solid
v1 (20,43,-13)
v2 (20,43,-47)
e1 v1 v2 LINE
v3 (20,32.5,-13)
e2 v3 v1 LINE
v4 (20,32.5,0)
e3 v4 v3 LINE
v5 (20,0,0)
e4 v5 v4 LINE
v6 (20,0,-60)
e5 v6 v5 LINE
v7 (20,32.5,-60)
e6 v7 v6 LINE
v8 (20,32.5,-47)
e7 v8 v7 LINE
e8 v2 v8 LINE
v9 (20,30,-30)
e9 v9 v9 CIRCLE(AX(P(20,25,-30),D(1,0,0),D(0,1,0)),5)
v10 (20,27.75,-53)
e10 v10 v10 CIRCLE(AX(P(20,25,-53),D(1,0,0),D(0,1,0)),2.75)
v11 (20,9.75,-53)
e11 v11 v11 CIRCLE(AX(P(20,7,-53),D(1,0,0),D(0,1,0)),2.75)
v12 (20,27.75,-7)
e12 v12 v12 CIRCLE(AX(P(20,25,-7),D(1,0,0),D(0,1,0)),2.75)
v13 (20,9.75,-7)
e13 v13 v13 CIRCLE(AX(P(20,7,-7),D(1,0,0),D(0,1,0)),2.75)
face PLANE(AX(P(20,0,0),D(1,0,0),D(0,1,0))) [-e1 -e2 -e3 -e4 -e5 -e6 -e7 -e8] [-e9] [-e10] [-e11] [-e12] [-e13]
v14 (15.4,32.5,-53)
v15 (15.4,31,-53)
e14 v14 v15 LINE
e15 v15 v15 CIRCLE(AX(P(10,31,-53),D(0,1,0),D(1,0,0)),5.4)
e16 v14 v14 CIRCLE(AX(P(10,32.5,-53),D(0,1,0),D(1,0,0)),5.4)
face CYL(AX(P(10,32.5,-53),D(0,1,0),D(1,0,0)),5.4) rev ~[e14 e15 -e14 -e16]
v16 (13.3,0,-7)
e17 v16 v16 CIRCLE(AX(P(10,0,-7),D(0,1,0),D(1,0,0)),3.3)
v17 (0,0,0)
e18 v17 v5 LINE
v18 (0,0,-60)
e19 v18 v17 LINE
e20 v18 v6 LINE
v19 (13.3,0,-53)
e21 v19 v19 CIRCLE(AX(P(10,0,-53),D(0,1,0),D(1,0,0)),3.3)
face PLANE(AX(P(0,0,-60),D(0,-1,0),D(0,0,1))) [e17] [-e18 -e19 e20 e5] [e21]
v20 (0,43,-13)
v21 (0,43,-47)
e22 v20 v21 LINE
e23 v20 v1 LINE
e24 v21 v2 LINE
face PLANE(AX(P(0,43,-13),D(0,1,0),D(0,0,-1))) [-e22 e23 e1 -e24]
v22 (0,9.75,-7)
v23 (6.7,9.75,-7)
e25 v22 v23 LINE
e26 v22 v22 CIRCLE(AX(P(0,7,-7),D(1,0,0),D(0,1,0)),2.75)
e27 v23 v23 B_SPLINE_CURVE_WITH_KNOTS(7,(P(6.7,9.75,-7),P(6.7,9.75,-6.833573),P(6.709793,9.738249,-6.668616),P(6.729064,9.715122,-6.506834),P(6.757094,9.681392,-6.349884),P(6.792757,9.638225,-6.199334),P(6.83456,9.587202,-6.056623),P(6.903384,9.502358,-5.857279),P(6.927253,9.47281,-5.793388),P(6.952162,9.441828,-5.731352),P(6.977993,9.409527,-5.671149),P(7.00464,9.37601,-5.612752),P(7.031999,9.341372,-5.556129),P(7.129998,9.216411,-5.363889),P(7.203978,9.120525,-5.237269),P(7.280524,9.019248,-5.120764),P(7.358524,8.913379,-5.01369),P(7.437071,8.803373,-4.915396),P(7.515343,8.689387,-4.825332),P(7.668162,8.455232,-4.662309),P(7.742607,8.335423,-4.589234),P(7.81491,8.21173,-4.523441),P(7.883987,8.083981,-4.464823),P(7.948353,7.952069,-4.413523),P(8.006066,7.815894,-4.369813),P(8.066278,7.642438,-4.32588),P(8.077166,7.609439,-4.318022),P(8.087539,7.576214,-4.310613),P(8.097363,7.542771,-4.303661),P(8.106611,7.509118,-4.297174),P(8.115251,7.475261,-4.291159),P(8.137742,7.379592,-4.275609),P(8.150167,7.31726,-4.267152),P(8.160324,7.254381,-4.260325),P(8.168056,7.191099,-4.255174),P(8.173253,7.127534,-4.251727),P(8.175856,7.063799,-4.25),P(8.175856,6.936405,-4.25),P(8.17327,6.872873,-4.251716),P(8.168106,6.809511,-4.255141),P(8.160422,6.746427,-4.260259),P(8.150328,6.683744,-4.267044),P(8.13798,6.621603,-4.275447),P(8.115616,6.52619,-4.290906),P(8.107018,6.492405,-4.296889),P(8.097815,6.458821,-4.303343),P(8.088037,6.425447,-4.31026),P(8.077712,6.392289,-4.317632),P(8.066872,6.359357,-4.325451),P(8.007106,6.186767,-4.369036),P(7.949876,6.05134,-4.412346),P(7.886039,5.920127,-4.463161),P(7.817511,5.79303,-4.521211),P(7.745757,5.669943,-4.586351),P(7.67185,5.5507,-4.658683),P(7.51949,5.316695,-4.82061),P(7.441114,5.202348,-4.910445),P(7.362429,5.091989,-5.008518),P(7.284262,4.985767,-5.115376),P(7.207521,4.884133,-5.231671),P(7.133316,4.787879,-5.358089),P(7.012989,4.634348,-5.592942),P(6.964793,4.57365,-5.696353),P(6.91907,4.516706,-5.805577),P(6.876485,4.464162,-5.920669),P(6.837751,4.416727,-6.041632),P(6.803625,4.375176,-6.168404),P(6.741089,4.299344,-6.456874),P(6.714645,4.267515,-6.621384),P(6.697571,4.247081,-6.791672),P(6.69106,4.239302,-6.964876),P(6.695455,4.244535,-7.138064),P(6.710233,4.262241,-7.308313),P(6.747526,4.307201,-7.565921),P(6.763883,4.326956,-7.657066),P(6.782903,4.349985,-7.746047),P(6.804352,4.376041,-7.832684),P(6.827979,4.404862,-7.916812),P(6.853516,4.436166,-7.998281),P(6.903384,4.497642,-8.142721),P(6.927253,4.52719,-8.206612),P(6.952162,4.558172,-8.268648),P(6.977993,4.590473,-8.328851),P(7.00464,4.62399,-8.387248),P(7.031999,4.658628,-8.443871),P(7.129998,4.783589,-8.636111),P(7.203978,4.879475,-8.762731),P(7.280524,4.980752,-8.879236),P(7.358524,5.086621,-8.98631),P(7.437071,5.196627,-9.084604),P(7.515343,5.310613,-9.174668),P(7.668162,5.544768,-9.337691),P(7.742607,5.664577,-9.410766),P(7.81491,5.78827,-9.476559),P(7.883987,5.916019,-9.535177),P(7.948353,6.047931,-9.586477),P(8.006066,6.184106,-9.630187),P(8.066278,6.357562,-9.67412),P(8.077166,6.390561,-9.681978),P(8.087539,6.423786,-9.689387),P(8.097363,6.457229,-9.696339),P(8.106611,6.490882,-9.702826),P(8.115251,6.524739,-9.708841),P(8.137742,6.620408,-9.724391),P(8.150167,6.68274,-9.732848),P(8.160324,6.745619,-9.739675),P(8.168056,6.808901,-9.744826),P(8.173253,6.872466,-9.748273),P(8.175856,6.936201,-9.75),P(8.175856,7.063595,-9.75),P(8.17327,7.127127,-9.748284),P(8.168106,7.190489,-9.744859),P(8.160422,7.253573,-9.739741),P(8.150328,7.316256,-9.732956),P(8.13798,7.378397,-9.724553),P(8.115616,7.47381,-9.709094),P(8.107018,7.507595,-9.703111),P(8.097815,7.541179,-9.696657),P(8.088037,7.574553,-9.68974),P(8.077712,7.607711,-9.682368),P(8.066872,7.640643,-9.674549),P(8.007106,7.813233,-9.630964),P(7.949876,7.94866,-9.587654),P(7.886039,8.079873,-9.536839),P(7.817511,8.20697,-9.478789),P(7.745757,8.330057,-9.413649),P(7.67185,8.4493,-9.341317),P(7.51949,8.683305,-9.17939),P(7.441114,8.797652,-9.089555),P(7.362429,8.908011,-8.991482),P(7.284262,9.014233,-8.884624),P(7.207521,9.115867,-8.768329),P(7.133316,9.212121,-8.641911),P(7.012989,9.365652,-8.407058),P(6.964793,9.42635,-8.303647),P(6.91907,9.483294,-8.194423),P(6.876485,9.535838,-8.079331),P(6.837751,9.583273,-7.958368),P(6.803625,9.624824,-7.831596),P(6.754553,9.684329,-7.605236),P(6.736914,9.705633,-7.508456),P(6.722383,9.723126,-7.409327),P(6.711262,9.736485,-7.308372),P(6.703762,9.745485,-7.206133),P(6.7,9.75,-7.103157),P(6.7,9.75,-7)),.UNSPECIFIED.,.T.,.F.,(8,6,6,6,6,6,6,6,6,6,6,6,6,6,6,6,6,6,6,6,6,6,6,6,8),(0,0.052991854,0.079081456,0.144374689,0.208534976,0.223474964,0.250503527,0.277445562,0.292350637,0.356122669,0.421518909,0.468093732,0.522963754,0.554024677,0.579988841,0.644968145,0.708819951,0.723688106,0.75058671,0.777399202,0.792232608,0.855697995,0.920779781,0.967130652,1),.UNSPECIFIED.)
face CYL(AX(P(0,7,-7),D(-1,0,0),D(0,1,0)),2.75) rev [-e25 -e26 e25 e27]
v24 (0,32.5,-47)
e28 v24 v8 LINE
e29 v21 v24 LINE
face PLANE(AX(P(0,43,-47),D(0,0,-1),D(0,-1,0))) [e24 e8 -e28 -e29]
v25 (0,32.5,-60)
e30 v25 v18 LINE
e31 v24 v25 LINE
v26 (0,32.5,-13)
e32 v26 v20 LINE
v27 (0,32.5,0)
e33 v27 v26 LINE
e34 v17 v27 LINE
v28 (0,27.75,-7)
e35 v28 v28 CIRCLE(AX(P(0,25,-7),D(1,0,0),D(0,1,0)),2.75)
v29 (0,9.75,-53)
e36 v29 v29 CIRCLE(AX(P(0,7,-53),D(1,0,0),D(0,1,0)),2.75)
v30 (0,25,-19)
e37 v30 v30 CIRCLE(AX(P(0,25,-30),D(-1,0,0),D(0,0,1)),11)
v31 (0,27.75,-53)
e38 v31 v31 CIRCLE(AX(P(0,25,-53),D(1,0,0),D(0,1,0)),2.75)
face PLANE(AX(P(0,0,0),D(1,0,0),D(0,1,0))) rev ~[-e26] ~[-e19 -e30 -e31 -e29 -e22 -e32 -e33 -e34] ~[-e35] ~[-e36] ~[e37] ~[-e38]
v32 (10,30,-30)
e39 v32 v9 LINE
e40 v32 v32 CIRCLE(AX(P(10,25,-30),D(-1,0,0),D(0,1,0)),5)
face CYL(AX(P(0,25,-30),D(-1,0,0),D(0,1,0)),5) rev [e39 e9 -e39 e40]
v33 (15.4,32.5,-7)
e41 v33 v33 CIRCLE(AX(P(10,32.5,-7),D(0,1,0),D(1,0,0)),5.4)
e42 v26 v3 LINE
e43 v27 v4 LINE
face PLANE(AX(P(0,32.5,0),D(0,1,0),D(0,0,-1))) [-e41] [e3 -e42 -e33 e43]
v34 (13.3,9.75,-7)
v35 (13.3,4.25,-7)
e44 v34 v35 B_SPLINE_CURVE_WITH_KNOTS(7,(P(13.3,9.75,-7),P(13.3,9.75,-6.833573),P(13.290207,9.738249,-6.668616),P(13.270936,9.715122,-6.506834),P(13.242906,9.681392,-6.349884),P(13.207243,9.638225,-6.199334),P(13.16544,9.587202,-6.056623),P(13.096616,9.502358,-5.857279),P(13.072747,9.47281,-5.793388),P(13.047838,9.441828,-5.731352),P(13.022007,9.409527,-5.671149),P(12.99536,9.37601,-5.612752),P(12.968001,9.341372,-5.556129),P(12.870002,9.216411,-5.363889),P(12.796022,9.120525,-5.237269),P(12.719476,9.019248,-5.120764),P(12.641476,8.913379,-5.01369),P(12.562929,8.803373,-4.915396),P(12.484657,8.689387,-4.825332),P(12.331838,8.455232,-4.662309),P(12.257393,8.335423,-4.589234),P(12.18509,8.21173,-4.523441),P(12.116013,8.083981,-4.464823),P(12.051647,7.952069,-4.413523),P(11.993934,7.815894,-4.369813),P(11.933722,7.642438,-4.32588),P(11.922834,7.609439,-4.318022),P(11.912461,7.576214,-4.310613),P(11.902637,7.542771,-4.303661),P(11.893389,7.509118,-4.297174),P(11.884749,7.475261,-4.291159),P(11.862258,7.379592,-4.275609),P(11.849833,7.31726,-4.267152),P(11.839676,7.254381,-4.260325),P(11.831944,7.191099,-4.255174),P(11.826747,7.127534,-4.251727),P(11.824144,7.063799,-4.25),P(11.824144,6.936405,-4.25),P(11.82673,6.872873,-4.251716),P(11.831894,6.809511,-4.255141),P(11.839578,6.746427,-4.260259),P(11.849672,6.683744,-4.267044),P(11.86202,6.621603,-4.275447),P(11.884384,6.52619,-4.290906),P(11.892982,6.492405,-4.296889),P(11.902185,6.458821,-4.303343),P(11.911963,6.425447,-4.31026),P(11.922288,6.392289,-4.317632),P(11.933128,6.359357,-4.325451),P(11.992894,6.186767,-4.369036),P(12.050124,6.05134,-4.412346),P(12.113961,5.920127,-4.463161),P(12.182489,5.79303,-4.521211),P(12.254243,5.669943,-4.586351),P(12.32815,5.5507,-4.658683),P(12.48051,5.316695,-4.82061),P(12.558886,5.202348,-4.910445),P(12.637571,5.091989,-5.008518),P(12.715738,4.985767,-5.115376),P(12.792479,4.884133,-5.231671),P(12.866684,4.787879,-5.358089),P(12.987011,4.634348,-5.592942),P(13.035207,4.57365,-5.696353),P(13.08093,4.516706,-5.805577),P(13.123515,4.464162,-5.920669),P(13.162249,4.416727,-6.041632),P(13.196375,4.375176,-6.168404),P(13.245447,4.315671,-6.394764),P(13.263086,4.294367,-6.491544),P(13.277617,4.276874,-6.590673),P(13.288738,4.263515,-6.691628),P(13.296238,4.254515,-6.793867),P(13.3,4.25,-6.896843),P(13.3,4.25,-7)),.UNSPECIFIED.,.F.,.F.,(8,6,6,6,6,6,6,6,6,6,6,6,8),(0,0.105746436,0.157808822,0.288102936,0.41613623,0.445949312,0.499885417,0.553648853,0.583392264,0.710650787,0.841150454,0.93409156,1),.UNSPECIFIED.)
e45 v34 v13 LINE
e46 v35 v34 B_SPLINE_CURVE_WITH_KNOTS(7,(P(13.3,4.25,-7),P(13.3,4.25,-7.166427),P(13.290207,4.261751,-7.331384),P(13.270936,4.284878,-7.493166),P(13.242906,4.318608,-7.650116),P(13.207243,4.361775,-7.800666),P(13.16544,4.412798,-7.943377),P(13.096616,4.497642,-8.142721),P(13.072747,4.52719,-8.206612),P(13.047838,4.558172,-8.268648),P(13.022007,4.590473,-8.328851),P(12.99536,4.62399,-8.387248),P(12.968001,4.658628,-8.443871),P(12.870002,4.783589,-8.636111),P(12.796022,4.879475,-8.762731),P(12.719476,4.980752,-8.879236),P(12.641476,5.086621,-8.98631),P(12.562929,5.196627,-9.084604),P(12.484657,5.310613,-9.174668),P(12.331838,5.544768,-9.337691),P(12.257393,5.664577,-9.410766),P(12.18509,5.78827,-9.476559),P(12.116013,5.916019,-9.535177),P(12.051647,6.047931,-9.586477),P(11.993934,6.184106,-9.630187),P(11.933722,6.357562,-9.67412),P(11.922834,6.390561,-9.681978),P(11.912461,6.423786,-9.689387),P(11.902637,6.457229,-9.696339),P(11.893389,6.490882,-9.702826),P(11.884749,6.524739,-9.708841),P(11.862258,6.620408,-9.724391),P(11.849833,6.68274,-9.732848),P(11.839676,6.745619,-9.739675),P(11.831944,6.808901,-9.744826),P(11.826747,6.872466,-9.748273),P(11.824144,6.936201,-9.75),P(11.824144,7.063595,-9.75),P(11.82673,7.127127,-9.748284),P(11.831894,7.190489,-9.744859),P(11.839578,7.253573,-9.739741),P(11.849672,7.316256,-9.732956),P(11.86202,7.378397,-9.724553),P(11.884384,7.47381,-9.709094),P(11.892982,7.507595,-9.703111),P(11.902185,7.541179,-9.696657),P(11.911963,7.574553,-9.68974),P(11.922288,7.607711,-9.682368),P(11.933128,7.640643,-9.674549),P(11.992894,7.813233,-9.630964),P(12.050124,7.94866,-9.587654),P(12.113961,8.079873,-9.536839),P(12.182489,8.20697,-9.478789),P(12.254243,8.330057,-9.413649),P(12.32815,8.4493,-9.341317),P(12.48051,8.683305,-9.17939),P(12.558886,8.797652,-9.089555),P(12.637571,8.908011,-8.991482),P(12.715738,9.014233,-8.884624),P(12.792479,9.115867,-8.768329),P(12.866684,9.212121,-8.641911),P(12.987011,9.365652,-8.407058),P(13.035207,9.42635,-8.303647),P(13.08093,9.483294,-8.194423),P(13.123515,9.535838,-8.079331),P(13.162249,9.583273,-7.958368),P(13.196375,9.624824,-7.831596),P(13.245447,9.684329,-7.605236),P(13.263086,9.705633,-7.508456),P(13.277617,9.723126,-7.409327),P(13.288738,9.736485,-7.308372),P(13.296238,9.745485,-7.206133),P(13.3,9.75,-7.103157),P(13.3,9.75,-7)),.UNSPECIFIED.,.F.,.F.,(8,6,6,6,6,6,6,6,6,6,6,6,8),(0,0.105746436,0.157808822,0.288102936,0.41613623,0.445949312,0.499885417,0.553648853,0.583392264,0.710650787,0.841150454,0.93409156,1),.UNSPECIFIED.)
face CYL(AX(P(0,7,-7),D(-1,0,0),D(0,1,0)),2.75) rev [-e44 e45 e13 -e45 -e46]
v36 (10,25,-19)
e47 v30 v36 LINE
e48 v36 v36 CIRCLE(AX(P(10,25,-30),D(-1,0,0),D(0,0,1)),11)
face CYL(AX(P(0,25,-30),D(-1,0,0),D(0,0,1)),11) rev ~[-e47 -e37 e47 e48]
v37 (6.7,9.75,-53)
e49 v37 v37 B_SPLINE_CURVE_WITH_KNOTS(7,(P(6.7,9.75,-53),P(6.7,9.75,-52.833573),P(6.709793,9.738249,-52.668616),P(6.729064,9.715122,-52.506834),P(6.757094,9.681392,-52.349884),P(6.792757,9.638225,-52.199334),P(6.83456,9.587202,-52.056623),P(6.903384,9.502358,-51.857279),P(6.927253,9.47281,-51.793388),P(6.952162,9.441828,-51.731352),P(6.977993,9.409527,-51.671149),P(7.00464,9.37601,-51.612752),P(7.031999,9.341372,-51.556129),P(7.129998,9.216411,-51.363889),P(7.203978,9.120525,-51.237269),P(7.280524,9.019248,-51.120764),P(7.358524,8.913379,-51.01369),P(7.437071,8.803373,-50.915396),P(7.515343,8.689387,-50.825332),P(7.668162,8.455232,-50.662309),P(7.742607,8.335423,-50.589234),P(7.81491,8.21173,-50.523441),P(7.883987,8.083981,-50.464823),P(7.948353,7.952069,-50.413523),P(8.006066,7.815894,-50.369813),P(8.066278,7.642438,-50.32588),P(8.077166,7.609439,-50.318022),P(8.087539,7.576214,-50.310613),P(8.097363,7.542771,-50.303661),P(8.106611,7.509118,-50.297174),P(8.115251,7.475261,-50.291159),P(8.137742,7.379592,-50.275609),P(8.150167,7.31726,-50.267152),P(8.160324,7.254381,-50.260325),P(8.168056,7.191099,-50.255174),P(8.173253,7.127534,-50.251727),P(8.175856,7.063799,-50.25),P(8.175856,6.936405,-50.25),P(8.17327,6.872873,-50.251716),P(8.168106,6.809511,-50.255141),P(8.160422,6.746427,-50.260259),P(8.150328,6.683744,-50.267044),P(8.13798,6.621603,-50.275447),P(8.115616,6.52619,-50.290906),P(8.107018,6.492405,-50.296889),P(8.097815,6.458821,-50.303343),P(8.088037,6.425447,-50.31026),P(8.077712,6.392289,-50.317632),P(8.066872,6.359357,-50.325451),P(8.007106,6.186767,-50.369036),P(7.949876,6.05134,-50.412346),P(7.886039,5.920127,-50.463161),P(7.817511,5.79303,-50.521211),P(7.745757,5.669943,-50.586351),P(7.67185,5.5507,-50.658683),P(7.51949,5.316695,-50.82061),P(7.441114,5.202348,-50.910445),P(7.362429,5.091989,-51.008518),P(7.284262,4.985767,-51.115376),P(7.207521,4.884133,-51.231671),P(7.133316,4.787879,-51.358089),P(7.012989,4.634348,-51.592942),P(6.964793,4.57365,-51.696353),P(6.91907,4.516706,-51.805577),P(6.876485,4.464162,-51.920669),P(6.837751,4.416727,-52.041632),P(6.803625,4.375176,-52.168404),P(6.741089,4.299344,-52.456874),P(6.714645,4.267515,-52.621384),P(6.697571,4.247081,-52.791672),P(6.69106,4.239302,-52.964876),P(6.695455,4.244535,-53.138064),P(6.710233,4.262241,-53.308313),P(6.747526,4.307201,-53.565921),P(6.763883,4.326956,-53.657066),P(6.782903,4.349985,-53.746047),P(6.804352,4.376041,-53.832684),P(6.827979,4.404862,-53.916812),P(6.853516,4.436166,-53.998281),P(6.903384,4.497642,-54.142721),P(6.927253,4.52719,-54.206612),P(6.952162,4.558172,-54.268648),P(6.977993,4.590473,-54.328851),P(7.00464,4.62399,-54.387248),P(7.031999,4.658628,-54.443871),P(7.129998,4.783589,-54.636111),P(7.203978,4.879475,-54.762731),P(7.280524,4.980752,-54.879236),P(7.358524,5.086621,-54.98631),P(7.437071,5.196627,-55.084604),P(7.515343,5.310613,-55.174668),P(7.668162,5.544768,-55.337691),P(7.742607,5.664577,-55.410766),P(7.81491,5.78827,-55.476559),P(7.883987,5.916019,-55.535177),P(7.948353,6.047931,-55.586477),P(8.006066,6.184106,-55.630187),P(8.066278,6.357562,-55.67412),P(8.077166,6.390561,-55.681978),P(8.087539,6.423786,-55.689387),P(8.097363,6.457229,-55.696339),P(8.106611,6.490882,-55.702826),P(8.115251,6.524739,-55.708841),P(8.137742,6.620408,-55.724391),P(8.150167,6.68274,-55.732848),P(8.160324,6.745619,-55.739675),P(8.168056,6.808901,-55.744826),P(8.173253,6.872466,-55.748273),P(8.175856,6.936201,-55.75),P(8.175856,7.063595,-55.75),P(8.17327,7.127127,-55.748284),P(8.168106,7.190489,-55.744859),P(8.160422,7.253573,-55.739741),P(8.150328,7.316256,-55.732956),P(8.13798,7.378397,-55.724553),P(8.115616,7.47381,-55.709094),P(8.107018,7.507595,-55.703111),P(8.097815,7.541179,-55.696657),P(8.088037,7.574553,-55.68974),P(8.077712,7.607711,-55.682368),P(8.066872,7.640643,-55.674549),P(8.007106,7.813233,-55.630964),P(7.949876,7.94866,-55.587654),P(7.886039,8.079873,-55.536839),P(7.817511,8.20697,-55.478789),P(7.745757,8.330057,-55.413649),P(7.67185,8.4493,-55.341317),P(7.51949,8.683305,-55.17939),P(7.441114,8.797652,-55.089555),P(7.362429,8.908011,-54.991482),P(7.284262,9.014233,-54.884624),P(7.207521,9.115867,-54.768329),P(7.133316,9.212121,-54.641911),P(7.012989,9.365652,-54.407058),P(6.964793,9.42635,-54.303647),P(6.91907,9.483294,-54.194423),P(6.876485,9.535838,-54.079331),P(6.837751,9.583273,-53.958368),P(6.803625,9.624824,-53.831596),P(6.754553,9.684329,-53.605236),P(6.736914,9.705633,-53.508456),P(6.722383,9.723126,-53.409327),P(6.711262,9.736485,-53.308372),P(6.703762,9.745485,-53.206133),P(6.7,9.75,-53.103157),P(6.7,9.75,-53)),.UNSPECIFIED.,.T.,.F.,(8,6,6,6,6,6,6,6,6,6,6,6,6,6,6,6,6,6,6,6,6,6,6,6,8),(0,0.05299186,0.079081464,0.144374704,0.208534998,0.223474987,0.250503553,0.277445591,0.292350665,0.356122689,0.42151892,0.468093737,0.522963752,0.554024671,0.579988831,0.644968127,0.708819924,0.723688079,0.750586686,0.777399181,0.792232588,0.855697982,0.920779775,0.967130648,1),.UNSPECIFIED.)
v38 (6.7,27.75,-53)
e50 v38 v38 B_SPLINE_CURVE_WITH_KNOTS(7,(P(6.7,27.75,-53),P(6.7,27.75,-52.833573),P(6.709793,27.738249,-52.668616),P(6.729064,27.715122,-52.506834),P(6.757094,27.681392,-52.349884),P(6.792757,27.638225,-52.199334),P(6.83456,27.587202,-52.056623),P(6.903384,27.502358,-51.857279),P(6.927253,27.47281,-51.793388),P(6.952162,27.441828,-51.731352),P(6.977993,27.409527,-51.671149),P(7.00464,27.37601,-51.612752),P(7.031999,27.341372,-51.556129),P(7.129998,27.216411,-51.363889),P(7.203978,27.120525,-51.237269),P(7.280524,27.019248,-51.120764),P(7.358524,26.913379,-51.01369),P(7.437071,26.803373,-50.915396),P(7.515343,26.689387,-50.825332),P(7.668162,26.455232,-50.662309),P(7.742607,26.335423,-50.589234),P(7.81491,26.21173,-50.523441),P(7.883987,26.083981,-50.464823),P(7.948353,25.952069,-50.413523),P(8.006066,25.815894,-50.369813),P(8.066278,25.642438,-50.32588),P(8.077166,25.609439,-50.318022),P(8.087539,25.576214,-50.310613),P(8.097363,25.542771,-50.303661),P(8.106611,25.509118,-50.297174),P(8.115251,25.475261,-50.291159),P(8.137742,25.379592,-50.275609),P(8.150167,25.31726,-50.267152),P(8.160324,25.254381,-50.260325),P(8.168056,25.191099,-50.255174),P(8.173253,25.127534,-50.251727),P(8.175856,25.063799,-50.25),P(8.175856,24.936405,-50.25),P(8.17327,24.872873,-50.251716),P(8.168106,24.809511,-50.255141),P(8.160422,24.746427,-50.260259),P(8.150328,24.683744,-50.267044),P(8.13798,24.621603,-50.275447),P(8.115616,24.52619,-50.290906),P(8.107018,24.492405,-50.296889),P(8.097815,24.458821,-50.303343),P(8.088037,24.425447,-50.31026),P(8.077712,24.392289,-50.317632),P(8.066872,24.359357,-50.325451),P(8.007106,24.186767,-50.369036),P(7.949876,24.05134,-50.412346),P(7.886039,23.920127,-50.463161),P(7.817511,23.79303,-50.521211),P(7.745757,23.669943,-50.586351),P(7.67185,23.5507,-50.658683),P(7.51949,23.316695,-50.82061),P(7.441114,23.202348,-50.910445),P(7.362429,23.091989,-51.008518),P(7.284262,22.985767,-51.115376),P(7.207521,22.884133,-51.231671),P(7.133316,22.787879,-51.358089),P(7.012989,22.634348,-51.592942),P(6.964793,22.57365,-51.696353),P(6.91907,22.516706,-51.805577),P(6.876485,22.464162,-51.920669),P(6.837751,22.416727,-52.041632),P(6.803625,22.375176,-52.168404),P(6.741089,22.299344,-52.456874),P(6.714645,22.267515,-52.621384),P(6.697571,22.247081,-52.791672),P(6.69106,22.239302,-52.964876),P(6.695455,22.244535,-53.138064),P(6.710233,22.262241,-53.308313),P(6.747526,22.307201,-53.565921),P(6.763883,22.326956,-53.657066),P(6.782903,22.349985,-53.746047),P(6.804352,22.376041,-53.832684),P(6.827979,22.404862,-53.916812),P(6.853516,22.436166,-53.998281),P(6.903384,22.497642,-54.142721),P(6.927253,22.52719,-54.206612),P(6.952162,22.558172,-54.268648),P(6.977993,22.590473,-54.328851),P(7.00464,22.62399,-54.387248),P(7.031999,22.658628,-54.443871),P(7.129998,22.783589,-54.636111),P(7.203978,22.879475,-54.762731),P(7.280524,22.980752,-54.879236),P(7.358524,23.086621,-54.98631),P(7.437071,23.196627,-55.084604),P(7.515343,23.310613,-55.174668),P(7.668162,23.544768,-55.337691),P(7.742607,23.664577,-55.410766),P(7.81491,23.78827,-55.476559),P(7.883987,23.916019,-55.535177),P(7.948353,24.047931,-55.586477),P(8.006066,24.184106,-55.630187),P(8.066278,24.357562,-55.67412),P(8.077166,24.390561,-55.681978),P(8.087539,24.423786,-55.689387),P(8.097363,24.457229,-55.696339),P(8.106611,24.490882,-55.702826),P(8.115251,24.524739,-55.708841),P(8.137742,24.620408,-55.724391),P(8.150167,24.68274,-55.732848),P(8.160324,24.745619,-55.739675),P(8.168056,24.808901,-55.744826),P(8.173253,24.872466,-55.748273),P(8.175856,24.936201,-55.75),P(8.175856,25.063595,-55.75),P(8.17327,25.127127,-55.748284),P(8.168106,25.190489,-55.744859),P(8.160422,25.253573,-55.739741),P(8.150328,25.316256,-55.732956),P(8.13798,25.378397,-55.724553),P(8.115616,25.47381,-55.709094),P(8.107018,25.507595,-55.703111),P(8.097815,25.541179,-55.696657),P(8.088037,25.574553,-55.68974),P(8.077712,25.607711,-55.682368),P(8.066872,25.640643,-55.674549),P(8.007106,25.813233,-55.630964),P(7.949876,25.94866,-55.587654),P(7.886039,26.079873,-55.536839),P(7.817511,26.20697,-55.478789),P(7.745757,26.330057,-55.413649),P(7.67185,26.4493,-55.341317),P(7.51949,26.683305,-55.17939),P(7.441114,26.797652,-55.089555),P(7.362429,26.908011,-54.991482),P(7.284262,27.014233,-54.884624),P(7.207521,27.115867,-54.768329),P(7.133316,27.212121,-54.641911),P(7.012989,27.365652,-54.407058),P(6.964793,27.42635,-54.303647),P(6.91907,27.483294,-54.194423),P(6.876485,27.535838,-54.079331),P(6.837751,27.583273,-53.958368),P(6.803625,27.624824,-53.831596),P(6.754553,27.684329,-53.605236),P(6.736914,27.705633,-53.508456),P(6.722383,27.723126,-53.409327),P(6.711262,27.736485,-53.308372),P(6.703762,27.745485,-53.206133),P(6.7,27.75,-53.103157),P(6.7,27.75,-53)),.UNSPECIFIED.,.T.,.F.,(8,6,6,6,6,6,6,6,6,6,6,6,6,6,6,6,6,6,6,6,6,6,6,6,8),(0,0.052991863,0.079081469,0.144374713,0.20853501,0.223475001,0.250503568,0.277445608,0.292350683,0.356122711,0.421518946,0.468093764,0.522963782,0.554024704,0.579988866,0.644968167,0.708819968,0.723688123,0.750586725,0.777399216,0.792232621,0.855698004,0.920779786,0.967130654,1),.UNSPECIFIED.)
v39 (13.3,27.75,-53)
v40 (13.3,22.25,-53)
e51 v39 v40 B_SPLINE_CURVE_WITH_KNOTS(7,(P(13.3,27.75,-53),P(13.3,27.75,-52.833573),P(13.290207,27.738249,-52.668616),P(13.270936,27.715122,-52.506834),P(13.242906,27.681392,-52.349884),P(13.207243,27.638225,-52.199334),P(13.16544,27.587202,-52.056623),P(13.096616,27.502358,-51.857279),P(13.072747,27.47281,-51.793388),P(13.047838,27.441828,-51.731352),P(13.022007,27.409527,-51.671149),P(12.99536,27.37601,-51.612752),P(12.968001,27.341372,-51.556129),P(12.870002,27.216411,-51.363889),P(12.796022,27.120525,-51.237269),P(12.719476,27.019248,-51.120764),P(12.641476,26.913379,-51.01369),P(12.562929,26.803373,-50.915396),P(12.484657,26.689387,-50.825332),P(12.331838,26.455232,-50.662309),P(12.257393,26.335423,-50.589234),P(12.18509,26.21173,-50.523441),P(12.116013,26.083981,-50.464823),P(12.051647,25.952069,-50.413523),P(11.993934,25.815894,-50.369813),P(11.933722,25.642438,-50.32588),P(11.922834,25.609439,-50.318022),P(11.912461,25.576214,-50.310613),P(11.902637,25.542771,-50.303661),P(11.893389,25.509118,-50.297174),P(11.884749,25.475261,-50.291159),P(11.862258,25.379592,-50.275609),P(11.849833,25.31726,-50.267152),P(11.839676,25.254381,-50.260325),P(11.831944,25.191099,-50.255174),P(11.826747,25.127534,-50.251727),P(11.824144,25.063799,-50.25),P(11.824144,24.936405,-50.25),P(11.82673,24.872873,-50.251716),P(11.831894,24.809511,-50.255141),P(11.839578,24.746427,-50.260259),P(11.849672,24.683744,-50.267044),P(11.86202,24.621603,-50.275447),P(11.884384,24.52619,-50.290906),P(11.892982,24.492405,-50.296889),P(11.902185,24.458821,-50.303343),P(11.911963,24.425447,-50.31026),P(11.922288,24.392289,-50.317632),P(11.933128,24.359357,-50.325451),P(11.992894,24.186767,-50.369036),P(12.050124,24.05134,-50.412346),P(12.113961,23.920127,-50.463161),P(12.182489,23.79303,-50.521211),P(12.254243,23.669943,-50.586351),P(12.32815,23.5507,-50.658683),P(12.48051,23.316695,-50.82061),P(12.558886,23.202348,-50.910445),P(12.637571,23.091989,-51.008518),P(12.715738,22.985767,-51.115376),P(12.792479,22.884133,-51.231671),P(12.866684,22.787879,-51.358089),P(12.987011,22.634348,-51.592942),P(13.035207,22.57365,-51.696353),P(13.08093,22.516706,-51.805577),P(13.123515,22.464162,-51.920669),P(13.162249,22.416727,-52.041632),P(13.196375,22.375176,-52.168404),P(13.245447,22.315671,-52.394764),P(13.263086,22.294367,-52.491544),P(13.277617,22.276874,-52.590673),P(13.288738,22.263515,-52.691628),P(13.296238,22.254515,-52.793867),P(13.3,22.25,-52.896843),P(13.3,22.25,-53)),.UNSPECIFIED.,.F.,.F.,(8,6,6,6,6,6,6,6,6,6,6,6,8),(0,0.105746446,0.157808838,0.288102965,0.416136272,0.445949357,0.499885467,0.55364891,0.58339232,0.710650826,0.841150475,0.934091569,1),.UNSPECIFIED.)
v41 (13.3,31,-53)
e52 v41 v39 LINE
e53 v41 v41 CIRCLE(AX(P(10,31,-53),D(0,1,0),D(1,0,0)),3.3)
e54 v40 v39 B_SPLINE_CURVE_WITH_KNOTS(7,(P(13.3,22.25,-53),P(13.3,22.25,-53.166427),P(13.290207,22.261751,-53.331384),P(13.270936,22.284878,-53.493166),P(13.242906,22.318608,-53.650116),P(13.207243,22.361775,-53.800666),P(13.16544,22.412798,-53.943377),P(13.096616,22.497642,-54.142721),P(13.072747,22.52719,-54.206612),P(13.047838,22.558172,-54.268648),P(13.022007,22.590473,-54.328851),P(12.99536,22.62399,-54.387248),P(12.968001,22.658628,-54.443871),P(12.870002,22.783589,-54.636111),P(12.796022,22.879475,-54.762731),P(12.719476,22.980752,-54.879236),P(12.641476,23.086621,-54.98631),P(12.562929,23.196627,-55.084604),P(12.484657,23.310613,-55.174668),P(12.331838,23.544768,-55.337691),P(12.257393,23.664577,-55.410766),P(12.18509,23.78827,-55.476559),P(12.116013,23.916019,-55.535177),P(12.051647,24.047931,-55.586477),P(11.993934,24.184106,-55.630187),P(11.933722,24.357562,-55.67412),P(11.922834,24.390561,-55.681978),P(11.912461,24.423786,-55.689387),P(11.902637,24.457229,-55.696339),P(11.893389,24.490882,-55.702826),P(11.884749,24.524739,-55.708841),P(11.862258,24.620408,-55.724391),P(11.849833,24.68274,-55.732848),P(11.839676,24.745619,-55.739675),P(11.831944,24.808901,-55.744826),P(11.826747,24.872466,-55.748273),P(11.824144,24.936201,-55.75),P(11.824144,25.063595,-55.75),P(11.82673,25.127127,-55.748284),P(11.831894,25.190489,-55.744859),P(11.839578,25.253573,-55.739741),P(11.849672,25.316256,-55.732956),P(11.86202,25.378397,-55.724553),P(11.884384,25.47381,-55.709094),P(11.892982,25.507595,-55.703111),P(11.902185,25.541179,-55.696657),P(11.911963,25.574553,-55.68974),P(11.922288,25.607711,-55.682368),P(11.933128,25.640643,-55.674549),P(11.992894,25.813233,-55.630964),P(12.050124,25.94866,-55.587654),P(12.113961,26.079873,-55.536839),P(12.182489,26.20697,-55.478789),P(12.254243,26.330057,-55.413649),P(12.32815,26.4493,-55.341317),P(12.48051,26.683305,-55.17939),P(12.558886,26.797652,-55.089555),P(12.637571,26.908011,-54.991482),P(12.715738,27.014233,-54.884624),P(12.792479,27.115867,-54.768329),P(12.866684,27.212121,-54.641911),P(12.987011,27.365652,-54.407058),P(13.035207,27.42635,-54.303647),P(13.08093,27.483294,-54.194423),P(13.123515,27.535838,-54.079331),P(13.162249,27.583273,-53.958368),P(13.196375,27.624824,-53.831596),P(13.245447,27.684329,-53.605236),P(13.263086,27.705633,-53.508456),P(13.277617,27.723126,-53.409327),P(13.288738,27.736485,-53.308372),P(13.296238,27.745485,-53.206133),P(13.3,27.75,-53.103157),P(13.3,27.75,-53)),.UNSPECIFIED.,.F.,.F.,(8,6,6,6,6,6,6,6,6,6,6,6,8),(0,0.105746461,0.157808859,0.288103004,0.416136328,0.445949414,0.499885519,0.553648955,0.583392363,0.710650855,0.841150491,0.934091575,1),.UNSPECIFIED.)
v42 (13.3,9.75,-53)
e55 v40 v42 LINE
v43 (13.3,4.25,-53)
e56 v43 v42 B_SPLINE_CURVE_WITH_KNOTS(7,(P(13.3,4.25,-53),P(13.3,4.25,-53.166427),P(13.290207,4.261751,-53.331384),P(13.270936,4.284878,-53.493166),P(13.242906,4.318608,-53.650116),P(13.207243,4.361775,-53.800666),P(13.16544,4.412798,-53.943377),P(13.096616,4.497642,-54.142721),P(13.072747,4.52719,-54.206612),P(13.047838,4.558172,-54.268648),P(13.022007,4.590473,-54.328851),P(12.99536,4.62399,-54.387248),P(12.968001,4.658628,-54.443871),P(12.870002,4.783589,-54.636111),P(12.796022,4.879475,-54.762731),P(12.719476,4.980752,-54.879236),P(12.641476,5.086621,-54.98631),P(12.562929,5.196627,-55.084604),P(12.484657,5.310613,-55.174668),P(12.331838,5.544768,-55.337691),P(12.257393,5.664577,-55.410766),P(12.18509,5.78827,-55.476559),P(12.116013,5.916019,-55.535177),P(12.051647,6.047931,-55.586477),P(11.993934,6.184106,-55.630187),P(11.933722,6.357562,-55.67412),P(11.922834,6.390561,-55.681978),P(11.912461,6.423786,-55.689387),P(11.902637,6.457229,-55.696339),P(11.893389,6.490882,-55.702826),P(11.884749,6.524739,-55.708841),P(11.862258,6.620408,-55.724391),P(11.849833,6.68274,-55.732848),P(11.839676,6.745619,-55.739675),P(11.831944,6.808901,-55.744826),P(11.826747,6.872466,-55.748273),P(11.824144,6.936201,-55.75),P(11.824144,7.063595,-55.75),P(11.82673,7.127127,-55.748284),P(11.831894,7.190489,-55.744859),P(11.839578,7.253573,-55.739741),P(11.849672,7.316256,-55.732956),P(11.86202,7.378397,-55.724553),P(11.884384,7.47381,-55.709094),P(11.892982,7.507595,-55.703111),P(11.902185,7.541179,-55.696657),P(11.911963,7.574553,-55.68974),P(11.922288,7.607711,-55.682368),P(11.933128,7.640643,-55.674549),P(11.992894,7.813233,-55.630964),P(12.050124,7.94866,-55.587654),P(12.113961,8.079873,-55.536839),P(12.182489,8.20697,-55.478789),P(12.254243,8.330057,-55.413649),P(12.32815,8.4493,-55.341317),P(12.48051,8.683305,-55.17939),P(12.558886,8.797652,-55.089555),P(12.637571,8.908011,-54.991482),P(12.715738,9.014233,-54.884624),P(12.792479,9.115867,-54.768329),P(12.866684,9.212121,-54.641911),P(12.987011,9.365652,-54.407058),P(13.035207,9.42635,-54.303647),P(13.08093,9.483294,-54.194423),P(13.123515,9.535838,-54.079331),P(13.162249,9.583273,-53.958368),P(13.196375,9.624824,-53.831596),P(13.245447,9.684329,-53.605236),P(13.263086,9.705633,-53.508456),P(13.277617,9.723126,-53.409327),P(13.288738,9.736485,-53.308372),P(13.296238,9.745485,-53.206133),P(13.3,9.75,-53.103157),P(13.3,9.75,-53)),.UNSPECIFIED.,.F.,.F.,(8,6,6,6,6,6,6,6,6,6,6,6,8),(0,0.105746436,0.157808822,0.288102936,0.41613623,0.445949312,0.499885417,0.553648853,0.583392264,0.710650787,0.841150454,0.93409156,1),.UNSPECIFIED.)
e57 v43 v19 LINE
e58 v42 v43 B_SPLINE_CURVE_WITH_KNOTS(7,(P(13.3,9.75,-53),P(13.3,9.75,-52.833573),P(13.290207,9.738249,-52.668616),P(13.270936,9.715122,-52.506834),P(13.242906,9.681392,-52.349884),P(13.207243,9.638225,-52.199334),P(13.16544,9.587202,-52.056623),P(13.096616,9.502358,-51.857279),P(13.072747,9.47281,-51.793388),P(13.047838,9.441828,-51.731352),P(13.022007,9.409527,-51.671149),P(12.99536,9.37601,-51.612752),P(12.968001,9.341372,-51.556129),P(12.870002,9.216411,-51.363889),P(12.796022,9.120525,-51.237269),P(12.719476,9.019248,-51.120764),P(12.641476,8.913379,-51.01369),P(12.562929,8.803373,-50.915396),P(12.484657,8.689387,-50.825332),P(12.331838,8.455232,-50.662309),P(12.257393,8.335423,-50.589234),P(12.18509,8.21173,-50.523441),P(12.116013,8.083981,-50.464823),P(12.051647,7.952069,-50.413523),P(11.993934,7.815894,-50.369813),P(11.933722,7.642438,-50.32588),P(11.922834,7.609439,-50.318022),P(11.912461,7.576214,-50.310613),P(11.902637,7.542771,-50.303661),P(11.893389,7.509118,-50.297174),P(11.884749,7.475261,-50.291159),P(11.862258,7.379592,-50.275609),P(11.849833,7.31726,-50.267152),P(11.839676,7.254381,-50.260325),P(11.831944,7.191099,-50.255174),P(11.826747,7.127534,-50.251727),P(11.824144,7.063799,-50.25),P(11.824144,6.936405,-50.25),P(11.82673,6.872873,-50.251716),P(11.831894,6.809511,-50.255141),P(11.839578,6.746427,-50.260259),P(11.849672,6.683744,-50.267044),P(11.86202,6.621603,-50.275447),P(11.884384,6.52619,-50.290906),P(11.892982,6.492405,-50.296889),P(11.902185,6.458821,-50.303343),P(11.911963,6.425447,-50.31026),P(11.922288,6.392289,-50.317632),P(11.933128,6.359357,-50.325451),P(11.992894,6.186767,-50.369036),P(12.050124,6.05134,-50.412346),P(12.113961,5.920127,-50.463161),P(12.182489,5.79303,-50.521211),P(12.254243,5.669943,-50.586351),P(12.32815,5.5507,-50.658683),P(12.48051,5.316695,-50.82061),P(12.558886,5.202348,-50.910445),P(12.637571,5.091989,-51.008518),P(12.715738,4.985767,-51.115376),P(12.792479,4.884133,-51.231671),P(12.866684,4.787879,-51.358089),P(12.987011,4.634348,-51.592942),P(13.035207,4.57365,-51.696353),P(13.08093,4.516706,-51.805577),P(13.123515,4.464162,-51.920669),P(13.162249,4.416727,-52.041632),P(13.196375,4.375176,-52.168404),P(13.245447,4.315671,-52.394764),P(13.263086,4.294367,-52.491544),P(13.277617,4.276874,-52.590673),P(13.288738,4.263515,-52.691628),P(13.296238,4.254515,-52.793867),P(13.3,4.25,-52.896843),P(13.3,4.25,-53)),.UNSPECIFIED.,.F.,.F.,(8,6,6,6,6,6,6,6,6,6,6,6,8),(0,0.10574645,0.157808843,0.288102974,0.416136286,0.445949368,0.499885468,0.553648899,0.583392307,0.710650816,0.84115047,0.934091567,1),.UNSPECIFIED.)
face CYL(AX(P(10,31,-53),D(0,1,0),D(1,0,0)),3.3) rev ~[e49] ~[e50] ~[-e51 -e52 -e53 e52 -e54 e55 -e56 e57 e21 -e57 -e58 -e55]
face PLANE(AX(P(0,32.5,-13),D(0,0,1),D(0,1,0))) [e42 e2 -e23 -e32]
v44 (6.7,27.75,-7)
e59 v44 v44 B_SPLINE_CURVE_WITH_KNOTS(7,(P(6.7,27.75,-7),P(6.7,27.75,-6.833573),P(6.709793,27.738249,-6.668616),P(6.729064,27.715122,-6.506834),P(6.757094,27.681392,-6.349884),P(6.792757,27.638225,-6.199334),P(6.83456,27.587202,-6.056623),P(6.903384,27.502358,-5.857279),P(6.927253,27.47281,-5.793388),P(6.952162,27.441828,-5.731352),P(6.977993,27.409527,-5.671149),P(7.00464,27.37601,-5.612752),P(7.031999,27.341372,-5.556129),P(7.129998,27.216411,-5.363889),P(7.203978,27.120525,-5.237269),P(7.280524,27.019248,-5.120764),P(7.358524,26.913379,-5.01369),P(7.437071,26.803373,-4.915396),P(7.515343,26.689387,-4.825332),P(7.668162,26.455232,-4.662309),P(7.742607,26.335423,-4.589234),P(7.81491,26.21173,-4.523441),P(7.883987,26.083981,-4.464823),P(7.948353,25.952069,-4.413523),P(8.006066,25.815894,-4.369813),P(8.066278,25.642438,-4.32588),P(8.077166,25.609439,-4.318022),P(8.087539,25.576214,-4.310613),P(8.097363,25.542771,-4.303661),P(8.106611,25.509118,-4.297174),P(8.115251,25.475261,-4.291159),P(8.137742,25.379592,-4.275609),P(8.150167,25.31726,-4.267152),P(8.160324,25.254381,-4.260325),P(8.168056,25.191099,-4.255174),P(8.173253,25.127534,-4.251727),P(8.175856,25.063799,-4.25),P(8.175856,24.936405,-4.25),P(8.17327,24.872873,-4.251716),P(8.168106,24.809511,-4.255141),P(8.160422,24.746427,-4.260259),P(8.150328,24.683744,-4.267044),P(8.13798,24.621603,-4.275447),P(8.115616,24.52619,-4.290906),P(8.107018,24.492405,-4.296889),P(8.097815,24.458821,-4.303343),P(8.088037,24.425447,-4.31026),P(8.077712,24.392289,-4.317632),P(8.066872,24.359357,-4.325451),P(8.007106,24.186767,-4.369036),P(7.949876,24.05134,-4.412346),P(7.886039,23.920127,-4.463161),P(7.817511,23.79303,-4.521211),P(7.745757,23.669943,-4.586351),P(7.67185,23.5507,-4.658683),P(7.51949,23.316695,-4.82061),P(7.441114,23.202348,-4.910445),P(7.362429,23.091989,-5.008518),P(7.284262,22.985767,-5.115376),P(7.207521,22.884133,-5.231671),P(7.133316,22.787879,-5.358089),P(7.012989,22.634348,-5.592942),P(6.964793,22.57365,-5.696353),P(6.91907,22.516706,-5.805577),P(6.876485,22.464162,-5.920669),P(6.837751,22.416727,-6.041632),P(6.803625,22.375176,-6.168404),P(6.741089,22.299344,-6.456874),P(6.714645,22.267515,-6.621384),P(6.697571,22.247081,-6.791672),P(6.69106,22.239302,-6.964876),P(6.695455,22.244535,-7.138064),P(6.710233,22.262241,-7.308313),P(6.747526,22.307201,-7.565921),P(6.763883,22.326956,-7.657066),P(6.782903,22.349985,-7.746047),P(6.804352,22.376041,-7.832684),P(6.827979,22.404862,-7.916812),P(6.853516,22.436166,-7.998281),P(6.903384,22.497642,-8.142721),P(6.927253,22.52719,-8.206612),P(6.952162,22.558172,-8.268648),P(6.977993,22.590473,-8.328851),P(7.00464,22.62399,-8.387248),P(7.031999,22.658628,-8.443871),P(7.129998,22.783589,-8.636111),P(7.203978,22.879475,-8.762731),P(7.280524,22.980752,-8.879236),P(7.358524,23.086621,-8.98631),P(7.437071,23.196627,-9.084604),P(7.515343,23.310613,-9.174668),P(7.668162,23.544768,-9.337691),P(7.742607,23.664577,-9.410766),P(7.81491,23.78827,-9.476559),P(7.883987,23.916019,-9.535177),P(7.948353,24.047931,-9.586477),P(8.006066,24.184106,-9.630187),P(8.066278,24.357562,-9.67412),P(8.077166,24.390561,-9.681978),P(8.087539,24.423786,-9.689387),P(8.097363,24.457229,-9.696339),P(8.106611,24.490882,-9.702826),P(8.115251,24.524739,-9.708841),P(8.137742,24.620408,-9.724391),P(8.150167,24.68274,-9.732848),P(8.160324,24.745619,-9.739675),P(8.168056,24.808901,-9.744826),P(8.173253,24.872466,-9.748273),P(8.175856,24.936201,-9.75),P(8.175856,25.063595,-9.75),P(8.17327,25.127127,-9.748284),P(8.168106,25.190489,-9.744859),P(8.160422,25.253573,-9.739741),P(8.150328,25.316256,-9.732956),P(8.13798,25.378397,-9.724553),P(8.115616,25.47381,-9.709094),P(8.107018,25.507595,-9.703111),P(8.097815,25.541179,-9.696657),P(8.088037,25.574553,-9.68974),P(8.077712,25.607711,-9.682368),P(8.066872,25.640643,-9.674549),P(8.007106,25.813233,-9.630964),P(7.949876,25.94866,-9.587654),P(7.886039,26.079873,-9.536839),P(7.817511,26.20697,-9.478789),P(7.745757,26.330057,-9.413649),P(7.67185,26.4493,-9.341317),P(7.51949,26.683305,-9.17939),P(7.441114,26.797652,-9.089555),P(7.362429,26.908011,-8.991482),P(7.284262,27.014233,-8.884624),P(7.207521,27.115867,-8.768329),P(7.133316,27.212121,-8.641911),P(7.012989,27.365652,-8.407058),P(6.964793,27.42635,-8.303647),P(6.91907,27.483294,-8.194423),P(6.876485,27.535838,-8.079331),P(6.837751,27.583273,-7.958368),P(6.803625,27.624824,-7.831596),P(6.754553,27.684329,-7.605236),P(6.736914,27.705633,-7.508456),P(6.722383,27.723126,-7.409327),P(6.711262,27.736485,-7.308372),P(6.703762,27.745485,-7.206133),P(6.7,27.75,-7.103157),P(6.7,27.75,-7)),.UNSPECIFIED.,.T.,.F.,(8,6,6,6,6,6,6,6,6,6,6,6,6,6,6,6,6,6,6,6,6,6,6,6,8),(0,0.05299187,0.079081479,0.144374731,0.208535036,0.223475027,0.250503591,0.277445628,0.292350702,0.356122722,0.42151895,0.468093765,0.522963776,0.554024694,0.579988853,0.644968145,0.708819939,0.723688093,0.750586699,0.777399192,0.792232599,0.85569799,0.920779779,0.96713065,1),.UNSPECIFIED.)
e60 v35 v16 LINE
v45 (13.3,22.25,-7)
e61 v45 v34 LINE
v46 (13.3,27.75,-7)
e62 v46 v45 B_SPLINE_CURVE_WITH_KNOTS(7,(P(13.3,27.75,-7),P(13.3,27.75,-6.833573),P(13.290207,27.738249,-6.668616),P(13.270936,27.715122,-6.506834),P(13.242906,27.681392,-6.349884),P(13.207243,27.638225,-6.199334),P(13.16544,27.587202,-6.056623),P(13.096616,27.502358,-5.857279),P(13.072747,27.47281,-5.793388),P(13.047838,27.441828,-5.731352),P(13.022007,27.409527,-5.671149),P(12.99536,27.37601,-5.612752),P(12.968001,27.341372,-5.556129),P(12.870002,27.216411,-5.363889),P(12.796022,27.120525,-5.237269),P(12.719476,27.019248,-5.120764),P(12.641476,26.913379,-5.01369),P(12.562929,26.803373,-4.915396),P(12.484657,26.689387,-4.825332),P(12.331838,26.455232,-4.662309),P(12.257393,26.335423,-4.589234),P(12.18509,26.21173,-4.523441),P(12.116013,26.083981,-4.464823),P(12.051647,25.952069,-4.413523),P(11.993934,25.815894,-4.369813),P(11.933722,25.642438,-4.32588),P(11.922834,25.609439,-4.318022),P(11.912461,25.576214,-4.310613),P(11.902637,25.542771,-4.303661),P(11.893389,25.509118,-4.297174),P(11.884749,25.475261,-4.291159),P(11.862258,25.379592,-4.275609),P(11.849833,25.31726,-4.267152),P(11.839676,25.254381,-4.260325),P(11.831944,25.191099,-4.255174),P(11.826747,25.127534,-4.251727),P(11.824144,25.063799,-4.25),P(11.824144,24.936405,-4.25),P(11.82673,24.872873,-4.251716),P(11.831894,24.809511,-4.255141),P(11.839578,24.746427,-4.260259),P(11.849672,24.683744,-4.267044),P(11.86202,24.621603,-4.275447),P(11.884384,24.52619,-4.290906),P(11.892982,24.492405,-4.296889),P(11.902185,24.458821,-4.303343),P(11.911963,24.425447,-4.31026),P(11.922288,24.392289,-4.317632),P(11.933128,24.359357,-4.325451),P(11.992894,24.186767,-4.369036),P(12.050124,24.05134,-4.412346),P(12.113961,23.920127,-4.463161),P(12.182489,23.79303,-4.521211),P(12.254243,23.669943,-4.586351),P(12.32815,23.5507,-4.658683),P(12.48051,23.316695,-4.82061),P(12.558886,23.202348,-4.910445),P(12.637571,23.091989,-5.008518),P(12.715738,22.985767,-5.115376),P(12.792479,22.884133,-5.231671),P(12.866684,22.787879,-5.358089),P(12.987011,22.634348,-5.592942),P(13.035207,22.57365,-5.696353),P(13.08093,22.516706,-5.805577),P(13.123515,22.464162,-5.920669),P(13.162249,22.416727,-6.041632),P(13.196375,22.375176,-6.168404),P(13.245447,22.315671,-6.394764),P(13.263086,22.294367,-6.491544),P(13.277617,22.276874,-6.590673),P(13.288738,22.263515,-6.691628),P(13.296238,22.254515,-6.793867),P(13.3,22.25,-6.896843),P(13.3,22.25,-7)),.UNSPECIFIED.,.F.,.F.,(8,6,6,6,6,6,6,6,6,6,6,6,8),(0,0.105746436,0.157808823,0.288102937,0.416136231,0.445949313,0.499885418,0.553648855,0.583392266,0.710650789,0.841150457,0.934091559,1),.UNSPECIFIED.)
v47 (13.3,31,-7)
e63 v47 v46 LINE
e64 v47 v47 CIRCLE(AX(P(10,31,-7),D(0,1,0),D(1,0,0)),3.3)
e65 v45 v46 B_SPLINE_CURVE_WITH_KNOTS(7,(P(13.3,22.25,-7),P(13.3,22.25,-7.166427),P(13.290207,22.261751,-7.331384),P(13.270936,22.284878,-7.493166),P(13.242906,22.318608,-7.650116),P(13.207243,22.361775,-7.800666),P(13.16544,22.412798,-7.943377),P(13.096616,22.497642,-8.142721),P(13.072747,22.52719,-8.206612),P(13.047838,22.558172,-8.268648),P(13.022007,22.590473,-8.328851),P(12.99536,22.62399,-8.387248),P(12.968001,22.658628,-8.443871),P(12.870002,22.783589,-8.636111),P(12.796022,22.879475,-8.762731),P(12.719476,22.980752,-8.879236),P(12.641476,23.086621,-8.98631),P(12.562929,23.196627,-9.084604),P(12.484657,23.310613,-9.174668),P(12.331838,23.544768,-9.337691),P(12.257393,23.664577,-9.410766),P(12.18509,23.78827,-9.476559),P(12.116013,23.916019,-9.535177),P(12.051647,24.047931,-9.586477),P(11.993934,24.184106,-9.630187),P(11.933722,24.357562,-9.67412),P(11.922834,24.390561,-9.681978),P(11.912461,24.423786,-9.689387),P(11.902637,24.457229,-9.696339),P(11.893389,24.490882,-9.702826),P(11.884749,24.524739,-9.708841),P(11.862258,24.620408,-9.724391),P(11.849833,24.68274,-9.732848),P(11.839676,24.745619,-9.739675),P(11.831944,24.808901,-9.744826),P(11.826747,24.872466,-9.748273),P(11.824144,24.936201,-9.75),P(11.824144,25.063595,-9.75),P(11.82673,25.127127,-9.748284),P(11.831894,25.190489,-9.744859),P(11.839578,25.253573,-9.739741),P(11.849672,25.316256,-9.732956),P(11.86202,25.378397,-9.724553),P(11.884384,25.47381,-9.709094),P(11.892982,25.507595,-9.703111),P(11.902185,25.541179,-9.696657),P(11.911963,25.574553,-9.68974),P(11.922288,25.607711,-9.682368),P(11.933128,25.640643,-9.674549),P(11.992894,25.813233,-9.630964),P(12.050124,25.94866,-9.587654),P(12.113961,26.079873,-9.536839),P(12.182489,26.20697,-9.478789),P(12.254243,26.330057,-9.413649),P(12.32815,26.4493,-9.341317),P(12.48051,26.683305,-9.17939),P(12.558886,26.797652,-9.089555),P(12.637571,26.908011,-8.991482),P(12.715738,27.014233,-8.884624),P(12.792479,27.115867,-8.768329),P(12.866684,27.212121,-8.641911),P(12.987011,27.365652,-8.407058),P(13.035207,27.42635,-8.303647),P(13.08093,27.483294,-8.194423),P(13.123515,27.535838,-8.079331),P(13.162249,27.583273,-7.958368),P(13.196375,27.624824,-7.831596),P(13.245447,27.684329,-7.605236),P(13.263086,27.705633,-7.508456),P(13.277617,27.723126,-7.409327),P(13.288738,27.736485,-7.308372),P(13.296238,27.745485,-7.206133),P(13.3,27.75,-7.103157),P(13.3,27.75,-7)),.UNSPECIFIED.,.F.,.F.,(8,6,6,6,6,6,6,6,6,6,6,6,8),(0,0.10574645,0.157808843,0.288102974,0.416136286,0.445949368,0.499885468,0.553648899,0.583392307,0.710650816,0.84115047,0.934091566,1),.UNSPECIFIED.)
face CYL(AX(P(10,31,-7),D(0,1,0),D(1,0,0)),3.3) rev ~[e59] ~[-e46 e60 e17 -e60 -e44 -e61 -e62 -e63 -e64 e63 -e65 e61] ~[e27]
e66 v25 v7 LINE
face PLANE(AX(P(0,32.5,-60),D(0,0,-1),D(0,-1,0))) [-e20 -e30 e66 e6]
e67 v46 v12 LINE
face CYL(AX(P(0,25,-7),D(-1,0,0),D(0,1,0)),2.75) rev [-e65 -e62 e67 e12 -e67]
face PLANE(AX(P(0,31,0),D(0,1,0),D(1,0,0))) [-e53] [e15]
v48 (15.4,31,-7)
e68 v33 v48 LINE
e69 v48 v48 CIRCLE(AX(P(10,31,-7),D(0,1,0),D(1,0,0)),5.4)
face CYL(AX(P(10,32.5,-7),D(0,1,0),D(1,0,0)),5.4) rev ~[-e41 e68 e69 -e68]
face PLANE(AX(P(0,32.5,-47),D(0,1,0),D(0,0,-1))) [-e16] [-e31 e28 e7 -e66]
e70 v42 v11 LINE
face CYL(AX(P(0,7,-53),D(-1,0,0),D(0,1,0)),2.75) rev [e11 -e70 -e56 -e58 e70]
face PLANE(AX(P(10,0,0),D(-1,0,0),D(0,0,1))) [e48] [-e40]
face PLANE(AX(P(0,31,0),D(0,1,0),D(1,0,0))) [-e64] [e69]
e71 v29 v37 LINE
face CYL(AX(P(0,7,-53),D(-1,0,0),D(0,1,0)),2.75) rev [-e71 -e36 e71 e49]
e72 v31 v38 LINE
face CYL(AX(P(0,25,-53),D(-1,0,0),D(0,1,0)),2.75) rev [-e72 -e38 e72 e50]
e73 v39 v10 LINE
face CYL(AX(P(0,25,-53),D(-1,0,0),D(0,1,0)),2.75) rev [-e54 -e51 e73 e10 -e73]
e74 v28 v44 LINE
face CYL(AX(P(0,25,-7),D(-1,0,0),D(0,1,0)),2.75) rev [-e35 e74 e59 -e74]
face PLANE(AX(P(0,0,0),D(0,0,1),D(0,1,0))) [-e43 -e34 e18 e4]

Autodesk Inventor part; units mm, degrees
ref_plane "YZ Plane" through (0, 0, 0) normal (1, 0, 0) x (0, 1, 0)
ref_plane "XZ Plane" through (0, 0, 0) normal (0, 1, 0) x (-1, 0, 0)
ref_plane "XY Plane" through (0, 0, 0) normal (0, 0, 1) x (1, 0, 0)
sketch "Sketch1" plane through (0, 0, 0) normal (1, 0, 0) x (0, 1, 0)
  line L0 (0, 0) -> (32.5, 0)
  line L1 (32.5, 0) -> (32.5, -13)
  line L2 (32.5, -13) -> (43, -13)
  line L3 (43, -13) -> (43, -47)
  line L4 (43, -47) -> (32.5, -47)
  line L5 (32.5, -47) -> (32.5, -60)
  line L6 (32.5, -60) -> (0, -60)
  line L7 (0, -60) -> (0, 0)
  circle A0 centre (25, -53) radius 2.75
  circle A1 centre (7, -7) radius 2.75
  circle A2 centre (7, -53) radius 2.75
  circle A3 centre (25, -7) radius 2.75
  line L8 (25, -7) -> (7, -7) construction
  line L9 (7, -7) -> (7, -53) construction
  line L10 (7, -53) -> (25, -53) construction
  line L11 (25, -53) -> (25, -7) construction
  line L12 (7, -30) -> (0, -30) construction
  circle A4 centre (25, -30) radius 5
  dimension "d0" = 34
  dimension "d1" = 60
  dimension "d2" = 43
  dimension "d3" = 32.5
  dimension "d4" = 5.5
  dimension "d6" = 25
  dimension "d7" = 18
  dimension "d8" = 46
  dimension "d9" = 10
extrude "Extrusion1" add sketch "Sketch1" along normal blind 20
sketch "Sketch2" plane through (0, 32.5, 0) normal (0, 1, 0) x (1, 0, 0)
  circle A0 centre (10, 7) radius 5.4
  circle A1 centre (10, 53) radius 5.4
  point P0 (0, 0)
  dimension "d12" = 10.8
  dimension "d13" = 10.8
  dimension "d14" = 46
  dimension "d15" = 7
  dimension "d16" = 10
extrude "Extrusion2" cut sketch "Sketch2" against normal blind 1.5
sketch "Sketch3" plane through (10, 31, -7) normal (0, 1, 0) x (1, 0, 0)
  circle A0 centre (0, 0) radius 5.4 projected
  circle A1 centre (0, 46) radius 5.4 projected
  circle A2 centre (0, 46) radius 3.3
  circle A3 centre (0, 0) radius 3.3
  point P0 (-10, -7)
  dimension "d19" = 6.6
extrude "Extrusion3" cut sketch "Sketch3" against normal up to surface (31 mm away) contours A2 | A3
sketch "Sketch4" plane through (0, 0, 0) normal (-1, 0, 0) x (0, 0, 1)
  circle A0 centre (-30, 25) radius 11
  circle A1 centre (-30, 25) radius 5 projected
  point P0 (0, 0)
  dimension "d22" = 22
extrude "Extrusion4" cut sketch "Sketch4" against normal blind 10
properties part number "BF10"
